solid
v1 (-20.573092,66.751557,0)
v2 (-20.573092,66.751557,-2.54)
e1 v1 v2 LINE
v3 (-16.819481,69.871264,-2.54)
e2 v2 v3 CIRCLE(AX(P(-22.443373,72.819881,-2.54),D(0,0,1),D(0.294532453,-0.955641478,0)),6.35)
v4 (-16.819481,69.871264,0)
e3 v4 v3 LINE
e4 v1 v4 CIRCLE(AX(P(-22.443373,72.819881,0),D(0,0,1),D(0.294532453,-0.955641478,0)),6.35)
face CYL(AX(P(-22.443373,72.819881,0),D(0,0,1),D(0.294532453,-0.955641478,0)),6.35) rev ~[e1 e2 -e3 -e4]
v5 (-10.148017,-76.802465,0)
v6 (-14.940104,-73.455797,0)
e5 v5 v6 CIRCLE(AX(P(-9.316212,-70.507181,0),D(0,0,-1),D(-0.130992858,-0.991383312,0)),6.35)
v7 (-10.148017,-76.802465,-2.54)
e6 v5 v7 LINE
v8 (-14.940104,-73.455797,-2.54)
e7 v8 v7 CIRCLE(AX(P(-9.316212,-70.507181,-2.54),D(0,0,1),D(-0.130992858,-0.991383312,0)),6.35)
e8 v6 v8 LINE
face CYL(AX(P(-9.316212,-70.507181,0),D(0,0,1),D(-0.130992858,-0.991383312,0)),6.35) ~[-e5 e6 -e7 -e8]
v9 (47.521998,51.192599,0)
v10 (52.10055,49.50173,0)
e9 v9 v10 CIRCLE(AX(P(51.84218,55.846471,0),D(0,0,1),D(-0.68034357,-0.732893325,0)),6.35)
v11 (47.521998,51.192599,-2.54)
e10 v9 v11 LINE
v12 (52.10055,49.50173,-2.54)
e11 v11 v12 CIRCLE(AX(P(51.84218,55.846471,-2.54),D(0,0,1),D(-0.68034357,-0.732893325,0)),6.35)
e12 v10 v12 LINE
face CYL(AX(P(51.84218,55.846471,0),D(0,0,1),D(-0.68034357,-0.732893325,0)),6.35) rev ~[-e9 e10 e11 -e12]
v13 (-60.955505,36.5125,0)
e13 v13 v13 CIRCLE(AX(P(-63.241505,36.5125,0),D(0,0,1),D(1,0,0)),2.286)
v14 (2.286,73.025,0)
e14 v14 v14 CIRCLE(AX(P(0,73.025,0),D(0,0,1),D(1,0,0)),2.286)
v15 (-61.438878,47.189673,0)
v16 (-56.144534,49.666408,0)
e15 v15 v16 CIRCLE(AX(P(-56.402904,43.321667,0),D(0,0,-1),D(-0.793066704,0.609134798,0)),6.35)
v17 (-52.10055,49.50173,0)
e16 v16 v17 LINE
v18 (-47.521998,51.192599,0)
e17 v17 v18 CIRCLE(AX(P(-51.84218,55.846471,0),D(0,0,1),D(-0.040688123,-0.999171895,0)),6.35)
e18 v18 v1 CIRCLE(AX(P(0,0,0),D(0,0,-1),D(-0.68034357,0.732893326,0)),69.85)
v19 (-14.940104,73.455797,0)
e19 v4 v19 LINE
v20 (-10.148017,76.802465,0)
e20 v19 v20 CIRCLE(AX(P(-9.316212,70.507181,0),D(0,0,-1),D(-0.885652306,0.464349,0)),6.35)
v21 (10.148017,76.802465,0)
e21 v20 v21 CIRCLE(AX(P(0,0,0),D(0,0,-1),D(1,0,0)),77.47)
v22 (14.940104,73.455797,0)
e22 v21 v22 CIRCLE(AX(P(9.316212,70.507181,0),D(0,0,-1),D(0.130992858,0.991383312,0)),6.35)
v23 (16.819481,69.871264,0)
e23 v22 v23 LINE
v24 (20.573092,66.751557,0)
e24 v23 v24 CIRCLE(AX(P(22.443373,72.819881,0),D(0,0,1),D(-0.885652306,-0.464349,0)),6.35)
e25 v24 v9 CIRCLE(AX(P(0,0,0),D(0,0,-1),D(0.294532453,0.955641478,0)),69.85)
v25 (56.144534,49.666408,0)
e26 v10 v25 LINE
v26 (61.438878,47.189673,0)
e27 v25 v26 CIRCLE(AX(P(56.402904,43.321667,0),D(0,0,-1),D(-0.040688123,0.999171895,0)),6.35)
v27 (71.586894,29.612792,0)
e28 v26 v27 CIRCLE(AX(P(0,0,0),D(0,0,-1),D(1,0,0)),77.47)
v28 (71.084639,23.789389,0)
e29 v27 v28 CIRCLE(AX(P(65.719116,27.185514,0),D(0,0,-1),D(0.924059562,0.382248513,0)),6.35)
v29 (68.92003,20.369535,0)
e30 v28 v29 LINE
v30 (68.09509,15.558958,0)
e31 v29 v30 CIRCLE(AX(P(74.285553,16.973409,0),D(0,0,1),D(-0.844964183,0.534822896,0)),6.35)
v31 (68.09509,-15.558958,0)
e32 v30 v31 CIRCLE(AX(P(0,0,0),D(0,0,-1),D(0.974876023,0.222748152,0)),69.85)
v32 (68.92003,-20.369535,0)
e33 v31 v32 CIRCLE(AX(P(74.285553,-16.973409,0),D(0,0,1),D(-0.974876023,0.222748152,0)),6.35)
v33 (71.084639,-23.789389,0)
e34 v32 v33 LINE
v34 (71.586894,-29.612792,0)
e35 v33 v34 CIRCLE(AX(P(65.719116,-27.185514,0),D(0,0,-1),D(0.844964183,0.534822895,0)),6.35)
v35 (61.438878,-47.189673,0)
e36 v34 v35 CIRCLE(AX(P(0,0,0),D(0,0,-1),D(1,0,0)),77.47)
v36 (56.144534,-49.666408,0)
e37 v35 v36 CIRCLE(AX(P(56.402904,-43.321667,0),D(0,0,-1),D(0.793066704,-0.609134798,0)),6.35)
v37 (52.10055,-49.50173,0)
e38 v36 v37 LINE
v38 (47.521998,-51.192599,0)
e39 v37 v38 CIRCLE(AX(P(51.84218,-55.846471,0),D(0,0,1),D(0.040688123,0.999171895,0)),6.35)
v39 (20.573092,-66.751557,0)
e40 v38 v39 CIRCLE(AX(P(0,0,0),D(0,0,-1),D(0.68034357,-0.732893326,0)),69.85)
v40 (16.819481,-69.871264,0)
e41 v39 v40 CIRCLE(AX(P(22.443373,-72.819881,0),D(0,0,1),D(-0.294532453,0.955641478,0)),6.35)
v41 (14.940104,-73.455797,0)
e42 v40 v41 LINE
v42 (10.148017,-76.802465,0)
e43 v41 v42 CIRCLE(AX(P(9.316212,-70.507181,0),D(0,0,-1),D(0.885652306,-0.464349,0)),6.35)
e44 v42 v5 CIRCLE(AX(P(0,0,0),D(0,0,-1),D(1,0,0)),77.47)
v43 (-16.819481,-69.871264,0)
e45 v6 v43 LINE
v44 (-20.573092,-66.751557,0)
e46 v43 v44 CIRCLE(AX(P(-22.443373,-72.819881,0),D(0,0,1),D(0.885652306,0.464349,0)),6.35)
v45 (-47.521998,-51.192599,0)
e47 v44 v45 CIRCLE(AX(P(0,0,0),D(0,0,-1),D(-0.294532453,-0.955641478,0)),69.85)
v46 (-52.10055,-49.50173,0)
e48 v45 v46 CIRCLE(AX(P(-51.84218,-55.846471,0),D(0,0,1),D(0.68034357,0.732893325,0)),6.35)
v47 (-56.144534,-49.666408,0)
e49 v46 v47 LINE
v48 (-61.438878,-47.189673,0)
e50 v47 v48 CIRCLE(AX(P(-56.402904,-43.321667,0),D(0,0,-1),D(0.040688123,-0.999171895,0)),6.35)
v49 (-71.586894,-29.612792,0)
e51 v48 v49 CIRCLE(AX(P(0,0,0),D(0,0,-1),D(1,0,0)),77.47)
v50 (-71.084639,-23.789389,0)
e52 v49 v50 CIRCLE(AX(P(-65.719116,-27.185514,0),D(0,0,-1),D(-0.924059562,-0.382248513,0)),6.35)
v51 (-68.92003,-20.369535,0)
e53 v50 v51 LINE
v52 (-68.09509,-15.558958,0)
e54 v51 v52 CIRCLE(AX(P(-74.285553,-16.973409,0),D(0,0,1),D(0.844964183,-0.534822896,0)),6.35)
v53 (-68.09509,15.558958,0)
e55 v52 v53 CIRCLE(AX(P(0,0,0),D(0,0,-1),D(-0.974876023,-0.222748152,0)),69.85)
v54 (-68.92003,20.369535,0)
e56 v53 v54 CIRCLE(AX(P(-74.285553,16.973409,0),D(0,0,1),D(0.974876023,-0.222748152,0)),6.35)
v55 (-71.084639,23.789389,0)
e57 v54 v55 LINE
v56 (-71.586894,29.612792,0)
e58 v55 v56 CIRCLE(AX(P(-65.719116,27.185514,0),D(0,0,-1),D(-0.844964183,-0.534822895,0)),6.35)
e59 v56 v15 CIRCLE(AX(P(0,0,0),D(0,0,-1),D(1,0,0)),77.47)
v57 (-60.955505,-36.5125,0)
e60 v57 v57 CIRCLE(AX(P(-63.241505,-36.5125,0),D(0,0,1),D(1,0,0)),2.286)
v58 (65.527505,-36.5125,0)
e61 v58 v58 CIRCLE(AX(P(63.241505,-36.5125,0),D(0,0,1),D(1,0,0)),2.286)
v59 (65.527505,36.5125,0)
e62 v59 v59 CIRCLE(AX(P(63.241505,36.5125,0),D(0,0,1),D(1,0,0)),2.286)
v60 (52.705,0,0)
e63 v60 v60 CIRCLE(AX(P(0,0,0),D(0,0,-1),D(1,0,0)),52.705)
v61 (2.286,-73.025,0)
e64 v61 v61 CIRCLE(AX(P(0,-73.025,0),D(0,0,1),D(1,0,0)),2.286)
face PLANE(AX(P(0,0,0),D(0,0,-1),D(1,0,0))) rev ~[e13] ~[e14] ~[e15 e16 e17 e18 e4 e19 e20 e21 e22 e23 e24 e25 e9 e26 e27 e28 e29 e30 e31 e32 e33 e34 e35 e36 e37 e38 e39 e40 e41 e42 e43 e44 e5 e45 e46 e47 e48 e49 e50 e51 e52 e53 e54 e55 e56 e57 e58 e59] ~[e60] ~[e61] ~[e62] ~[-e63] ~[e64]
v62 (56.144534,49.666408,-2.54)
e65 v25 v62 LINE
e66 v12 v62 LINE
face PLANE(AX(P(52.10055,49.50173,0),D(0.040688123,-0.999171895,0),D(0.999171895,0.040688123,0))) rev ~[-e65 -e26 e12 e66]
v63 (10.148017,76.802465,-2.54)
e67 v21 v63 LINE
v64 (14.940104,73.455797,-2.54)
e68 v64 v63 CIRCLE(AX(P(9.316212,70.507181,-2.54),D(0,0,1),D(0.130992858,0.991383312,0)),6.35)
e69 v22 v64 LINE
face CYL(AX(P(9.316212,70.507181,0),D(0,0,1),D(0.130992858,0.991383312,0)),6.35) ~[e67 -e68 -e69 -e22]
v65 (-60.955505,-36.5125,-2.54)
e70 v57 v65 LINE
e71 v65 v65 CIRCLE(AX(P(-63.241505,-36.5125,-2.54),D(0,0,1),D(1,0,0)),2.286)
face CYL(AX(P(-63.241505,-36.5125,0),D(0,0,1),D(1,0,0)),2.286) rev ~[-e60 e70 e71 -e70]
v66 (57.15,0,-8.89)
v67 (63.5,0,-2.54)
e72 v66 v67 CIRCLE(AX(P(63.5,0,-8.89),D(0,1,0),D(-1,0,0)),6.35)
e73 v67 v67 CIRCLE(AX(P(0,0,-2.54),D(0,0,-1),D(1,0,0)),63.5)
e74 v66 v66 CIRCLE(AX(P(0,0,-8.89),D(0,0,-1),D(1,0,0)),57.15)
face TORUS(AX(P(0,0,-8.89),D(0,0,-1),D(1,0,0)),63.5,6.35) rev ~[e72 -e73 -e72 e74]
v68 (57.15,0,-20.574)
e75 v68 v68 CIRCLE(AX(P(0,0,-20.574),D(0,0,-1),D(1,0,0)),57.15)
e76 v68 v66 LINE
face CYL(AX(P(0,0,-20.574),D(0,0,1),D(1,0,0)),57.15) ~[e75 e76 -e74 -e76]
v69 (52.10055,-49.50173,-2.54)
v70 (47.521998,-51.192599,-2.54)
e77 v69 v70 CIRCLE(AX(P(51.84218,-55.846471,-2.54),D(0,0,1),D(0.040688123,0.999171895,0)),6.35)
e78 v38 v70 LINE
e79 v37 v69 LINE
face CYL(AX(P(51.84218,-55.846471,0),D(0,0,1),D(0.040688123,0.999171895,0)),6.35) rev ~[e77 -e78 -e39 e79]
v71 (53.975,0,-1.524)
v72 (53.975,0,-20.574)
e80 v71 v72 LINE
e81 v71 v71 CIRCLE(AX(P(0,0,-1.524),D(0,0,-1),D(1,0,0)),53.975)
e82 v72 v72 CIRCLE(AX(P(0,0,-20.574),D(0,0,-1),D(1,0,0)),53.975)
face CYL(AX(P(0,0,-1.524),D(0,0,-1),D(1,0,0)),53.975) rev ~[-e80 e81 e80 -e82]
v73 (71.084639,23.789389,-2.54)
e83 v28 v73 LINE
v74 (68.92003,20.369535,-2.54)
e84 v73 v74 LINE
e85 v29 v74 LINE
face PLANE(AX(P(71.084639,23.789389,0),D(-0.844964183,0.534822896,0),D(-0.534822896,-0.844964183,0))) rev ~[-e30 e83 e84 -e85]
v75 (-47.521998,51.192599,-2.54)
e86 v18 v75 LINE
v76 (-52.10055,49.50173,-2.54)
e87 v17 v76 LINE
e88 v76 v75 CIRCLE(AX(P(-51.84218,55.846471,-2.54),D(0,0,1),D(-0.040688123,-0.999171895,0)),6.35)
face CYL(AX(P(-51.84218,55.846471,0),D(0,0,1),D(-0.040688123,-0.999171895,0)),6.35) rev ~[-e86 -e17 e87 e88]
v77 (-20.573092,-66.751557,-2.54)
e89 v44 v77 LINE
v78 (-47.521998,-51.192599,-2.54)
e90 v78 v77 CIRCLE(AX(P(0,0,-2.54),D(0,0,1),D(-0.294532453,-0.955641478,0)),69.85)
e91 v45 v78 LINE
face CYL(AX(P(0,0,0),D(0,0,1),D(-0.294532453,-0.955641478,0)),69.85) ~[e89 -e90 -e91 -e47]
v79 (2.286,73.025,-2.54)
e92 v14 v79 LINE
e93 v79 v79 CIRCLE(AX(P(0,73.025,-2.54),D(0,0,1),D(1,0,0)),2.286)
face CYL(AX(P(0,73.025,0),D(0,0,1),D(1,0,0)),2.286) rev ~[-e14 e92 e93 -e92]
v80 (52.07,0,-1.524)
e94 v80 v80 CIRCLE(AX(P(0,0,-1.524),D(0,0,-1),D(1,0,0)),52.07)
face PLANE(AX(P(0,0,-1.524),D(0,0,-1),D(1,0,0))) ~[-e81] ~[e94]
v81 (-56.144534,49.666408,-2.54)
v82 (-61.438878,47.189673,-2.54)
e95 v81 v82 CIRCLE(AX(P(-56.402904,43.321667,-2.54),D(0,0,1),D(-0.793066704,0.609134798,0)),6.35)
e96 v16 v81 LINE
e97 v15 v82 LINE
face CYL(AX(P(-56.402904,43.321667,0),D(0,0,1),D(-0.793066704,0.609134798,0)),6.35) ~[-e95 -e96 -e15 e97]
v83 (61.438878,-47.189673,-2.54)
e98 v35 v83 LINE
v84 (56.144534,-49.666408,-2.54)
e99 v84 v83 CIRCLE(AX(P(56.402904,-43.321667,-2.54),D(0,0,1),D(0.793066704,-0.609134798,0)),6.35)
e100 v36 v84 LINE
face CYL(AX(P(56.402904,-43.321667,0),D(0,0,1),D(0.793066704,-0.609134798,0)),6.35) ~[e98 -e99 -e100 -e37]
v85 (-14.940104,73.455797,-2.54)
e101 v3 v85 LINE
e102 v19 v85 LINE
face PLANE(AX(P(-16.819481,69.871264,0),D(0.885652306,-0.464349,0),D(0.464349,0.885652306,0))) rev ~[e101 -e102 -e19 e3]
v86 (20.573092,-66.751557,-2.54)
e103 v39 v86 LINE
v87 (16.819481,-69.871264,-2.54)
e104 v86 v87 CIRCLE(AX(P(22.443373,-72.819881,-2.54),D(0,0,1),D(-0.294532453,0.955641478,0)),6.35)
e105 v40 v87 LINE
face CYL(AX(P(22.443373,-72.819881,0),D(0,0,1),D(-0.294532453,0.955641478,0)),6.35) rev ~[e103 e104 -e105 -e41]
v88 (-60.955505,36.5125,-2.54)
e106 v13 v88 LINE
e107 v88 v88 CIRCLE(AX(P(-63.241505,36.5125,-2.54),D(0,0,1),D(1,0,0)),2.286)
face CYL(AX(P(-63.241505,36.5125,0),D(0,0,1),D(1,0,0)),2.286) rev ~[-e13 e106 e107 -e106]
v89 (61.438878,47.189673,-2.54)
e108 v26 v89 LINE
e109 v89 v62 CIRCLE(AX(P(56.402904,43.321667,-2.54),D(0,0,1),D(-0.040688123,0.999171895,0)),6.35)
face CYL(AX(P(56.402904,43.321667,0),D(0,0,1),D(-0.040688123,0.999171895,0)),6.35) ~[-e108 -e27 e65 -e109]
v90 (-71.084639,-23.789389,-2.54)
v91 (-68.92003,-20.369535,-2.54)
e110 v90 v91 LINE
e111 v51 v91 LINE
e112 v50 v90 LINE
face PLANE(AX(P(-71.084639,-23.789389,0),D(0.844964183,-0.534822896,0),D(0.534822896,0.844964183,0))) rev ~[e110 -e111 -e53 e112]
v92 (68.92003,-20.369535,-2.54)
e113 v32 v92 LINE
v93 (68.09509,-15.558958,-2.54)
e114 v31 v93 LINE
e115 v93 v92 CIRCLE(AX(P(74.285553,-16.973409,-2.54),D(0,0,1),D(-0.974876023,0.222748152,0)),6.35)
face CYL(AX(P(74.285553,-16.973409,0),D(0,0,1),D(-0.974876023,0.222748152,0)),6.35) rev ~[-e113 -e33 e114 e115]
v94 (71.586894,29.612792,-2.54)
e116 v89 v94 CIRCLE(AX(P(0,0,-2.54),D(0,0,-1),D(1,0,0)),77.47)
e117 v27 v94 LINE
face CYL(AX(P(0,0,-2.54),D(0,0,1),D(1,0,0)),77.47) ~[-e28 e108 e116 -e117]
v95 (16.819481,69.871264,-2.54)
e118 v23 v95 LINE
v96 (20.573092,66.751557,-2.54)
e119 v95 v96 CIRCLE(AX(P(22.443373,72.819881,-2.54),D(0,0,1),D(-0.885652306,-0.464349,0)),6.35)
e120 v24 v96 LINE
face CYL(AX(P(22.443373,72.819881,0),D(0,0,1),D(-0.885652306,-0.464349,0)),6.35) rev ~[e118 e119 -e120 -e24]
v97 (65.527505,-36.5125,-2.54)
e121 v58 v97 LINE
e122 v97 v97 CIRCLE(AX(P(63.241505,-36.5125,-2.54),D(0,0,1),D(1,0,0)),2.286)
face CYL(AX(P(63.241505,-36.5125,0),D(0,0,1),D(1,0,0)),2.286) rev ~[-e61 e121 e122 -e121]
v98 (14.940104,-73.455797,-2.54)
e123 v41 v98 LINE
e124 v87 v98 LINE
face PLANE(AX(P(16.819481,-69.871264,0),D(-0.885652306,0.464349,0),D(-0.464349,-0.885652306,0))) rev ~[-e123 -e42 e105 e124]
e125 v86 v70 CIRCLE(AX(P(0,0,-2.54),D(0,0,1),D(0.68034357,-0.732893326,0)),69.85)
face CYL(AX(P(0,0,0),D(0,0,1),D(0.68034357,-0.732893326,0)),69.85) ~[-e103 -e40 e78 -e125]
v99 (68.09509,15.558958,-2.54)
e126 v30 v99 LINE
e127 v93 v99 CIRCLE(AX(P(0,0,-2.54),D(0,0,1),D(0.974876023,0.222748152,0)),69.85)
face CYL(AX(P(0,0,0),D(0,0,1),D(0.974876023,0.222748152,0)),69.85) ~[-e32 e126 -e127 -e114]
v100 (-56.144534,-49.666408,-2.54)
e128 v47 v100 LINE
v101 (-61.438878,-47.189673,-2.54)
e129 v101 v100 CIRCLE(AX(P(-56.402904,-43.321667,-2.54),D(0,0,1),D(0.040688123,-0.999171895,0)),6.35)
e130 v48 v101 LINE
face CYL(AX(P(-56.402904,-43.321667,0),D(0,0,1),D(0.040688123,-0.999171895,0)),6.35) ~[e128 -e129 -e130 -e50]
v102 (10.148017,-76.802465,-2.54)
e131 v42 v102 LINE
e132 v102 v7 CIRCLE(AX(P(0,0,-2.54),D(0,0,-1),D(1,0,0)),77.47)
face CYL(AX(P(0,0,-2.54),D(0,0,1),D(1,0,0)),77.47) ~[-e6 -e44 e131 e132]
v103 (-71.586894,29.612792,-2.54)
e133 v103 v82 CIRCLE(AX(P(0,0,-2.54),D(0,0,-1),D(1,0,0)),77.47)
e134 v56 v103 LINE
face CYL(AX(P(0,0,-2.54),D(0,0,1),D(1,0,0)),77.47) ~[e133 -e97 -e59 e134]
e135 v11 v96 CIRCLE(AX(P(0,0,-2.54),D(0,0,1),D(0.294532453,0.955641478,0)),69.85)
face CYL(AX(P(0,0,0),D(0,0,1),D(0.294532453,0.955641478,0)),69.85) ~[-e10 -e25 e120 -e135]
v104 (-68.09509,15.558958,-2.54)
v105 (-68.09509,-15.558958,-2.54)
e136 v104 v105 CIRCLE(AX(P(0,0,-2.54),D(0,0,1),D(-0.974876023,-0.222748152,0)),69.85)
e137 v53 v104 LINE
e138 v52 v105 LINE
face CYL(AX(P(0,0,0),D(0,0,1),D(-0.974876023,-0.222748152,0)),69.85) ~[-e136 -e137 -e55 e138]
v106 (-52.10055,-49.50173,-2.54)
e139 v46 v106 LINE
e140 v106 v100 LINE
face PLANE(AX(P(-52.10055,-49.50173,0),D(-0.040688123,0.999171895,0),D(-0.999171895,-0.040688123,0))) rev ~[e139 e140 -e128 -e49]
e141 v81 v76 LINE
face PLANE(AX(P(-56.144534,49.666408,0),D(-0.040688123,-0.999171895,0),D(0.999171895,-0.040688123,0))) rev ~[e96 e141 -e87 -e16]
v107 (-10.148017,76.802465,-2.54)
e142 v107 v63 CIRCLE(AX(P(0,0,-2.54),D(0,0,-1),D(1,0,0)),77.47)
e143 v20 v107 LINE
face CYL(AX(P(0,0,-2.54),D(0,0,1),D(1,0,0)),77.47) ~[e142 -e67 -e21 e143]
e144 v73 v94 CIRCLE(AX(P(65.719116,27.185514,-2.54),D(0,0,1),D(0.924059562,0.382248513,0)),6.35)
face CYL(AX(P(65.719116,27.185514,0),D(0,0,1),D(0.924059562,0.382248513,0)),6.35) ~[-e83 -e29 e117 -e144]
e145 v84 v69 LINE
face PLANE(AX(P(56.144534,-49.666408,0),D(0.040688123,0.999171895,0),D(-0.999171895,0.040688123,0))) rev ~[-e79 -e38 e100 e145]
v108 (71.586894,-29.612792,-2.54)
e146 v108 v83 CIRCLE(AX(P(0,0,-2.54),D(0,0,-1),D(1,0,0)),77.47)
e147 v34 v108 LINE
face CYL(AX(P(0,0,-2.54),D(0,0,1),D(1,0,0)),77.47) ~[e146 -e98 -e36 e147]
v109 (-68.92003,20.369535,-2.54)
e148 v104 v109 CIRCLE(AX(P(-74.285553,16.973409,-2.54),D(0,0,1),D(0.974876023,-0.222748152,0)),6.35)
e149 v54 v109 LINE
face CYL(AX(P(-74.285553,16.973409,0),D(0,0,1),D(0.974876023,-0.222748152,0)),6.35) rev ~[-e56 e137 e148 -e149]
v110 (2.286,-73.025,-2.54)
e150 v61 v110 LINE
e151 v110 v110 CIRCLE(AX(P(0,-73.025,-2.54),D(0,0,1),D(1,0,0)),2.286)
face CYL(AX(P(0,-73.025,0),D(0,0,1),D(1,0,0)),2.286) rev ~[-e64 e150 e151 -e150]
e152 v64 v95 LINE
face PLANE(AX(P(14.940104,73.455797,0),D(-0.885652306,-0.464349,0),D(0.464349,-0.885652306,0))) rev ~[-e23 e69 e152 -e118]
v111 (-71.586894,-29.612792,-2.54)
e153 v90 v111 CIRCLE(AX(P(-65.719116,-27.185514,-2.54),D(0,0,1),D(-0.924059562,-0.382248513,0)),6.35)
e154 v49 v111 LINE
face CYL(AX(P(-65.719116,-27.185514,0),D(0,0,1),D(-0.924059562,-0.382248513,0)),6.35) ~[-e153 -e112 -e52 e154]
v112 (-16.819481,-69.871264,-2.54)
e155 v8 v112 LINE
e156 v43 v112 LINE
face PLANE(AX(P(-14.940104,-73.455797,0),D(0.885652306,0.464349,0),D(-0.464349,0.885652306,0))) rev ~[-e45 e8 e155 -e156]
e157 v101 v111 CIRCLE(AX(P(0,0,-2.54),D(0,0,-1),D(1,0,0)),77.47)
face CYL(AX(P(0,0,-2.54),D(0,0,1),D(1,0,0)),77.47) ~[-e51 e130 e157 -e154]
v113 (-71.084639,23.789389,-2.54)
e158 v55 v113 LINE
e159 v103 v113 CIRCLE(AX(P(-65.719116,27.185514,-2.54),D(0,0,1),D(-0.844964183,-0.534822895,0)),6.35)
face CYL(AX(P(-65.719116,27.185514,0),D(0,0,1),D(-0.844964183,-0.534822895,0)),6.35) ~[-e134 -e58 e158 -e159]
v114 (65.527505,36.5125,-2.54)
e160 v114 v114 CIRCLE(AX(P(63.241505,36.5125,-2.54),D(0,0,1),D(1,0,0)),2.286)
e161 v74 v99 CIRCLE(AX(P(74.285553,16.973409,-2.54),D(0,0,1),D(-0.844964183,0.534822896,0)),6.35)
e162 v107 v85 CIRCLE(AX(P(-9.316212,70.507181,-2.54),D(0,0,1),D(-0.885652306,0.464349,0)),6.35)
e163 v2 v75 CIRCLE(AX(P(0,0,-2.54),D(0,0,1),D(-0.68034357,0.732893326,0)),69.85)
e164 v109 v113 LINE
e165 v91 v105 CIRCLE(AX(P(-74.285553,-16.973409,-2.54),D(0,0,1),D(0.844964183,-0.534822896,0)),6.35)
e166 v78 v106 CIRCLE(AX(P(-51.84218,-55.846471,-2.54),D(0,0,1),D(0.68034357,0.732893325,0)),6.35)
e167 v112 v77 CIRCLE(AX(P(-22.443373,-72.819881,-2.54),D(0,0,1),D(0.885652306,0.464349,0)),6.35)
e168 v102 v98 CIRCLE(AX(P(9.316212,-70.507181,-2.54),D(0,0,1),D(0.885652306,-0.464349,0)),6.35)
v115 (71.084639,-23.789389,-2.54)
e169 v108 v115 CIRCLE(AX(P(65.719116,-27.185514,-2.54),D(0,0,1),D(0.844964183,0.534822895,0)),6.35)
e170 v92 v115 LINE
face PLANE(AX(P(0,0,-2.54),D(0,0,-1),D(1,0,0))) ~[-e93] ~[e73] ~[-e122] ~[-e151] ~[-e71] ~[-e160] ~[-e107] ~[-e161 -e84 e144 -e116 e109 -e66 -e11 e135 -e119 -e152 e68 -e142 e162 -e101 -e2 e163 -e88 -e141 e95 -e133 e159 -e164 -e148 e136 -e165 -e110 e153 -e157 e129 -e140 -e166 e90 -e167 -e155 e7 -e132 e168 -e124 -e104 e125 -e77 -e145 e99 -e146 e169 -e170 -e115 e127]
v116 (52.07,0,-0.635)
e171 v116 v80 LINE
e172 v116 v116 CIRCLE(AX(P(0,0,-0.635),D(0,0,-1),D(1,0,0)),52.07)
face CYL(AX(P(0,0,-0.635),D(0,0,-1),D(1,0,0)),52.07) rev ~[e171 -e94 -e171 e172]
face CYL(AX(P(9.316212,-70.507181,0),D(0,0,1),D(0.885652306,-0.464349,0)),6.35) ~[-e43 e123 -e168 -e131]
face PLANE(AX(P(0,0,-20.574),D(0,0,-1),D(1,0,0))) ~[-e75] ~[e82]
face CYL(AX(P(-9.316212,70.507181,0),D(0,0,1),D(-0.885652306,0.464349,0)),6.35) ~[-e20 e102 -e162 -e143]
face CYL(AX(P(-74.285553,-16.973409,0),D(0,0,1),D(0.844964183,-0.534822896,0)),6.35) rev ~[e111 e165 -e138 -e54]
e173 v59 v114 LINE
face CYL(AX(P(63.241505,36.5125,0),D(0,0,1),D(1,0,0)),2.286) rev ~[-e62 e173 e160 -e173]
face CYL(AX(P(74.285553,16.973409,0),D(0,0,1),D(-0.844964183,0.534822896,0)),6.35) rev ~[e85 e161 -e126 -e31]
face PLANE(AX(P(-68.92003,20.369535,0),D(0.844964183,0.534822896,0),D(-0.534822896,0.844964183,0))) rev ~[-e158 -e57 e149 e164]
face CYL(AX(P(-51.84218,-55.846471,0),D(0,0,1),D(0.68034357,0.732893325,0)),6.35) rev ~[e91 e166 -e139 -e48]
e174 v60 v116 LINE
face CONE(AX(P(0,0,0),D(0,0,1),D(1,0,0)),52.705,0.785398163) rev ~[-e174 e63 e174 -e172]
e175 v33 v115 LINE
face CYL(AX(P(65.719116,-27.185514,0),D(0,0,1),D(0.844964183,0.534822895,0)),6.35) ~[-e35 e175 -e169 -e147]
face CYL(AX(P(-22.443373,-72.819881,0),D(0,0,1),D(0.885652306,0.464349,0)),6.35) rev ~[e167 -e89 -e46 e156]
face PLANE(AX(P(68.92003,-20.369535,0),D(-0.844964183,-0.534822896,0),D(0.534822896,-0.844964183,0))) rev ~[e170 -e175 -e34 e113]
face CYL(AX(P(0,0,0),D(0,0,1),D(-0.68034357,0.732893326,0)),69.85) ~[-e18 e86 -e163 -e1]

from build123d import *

# Parameters (mm, degrees)
SKETCH4_R          = 2.286
CUT_EXTRUDE1_DEPTH = 112.474173134


with BuildPart() as part:
    # Sketch3 → Revolve1 (revolve)
    with BuildSketch(Plane(origin=(0, 0, 0), x_dir=(0, 0, -1), z_dir=(1, 0, 0)), mode=Mode.PRIVATE) as revolve1_sk:
        with BuildLine():
            Line((0, 77.47), (0, 52.705))
            Line((0, 52.705), (0.635, 52.07))
            Line((0.635, 52.07), (1.524, 52.07))
            Line((1.524, 52.07), (1.524, 53.975))
            Line((1.524, 53.975), (20.574, 53.975))
            Line((20.574, 53.975), (20.574, 57.15))
            Line((20.574, 57.15), (8.89, 57.15))
            ThreePointArc((8.89, 57.15), (4.399871939, 59.009871939), (2.54, 63.5))
            Line((2.54, 63.5), (2.54, 77.47))
            Line((2.54, 77.47), (0, 77.47))
        make_face()
    revolve(revolve1_sk.sketch.rotate(Axis((0, 0, 0), (0, 0, -1)), 90), axis=Axis((0, 0, 0), (0, 0, -1)))

    # Sketch4 → Cut-Extrude1 (cut, through all)
    with BuildSketch(Plane.XY):
        with BuildLine():
            ThreePointArc((10.148016689, 76.802465177), (12.952013431, 75.713278366), (14.940104183, 73.455797294))
            Line((14.940104183, 73.455797294), (16.819480806, 69.871264453))
            ThreePointArc((16.819480806, 69.871264453), (18.384579854, 67.936367662), (20.573091868, 66.751557218))
            ThreePointArc((20.573091868, 66.751557218), (34.925, 60.491874454), (47.521998359, 51.192598801))
            ThreePointArc((47.521998359, 51.192598801), (49.642330309, 49.889697022), (52.100549608, 49.501729883))
            Line((52.100549608, 49.501729883), (56.14453442, 49.666408405))
            ThreePointArc((56.14453442, 49.666408405), (59.093615754, 49.073411844), (61.438877572, 47.189672839))
            ThreePointArc((61.438877572, 47.189672839), (38.735, 67.090988031), (10.148016689, 76.802465177))
        make_face()
        with BuildLine():
            ThreePointArc((-14.940104183, 73.455797294), (-12.952013431, 75.713278366), (-10.148016689, 76.802465177))
            ThreePointArc((-10.148016689, 76.802465177), (-38.735, 67.090988031), (-61.438877572, 47.189672839))
            ThreePointArc((-61.438877572, 47.189672839), (-59.093615754, 49.073411844), (-56.14453442, 49.666408405))
            Line((-56.14453442, 49.666408405), (-52.100549608, 49.501729883))
            ThreePointArc((-52.100549608, 49.501729883), (-49.642330309, 49.889697022), (-47.521998359, 51.192598801))
            ThreePointArc((-47.521998359, 51.192598801), (-34.925, 60.491874454), (-20.573091868, 66.751557218))
            ThreePointArc((-20.573091868, 66.751557218), (-18.384579854, 67.936367662), (-16.819480806, 69.871264453))
            Line((-16.819480806, 69.871264453), (-14.940104183, 73.455797294))
        make_face()
        with BuildLine():
            ThreePointArc((71.586894261, -29.612792338), (77.47, 0), (71.586894261, 29.612792338))
            ThreePointArc((71.586894261, 29.612792338), (72.045629184, 26.639866522), (71.084638604, 23.789388889))
            Line((71.084638604, 23.789388889), (68.920030414, 20.36953457))
            ThreePointArc((68.920030414, 20.36953457), (68.026910163, 18.04667064), (68.095090227, 15.558958417))
            ThreePointArc((68.095090227, 15.558958417), (69.85, 0), (68.095090227, -15.558958417))
            ThreePointArc((68.095090227, -15.558958417), (68.026910163, -18.04667064), (68.920030414, -20.36953457))
            Line((68.920030414, -20.36953457), (71.084638604, -23.789388889))
            ThreePointArc((71.084638604, -23.789388889), (72.045629184, -26.639866522), (71.586894261, -29.612792338))
        make_face()
        with BuildLine():
            ThreePointArc((-71.084638604, 23.789388889), (-72.045629184, 26.639866522), (-71.586894261, 29.612792338))
            ThreePointArc((-71.586894261, 29.612792338), (-77.47, 0), (-71.586894261, -29.612792338))
            ThreePointArc((-71.586894261, -29.612792338), (-72.045629184, -26.639866522), (-71.084638604, -23.789388889))
            Line((-71.084638604, -23.789388889), (-68.920030414, -20.36953457))
            ThreePointArc((-68.920030414, -20.36953457), (-68.026910163, -18.04667064), (-68.095090227, -15.558958417))
            ThreePointArc((-68.095090227, -15.558958417), (-69.85, 0), (-68.095090227, 15.558958417))
            ThreePointArc((-68.095090227, 15.558958417), (-68.026910163, 18.04667064), (-68.920030414, 20.36953457))
            Line((-68.920030414, 20.36953457), (-71.084638604, 23.789388889))
        make_face()
        with BuildLine():
            ThreePointArc((10.148016689, -76.802465177), (38.735, -67.090988031), (61.438877572, -47.189672839))
            ThreePointArc((61.438877572, -47.189672839), (59.093615754, -49.073411844), (56.14453442, -49.666408405))
            Line((56.14453442, -49.666408405), (52.100549608, -49.501729883))
            ThreePointArc((52.100549608, -49.501729883), (49.642330309, -49.889697022), (47.521998359, -51.192598801))
            ThreePointArc((47.521998359, -51.192598801), (34.925, -60.491874454), (20.573091868, -66.751557218))
            ThreePointArc((20.573091868, -66.751557218), (18.384579854, -67.936367662), (16.819480806, -69.871264453))
            Line((16.819480806, -69.871264453), (14.940104183, -73.455797294))
            ThreePointArc((14.940104183, -73.455797294), (12.952013431, -75.713278366), (10.148016689, -76.802465177))
        make_face()
        with BuildLine():
            ThreePointArc((-56.14453442, -49.666408405), (-59.093615754, -49.073411844), (-61.438877572, -47.189672839))
            ThreePointArc((-61.438877572, -47.189672839), (-38.735, -67.090988031), (-10.148016689, -76.802465177))
            ThreePointArc((-10.148016689, -76.802465177), (-12.952013431, -75.713278366), (-14.940104183, -73.455797294))
            Line((-14.940104183, -73.455797294), (-16.819480806, -69.871264453))
            ThreePointArc((-16.819480806, -69.871264453), (-18.384579854, -67.936367662), (-20.573091868, -66.751557218))
            ThreePointArc((-20.573091868, -66.751557218), (-34.925, -60.491874454), (-47.521998359, -51.192598801))
            ThreePointArc((-47.521998359, -51.192598801), (-49.642330309, -49.889697022), (-52.100549608, -49.501729883))
            Line((-52.100549608, -49.501729883), (-56.14453442, -49.666408405))
        make_face()
        with Locations((0, 73.025)):
            Circle(SKETCH4_R)
        with Locations((63.241505111, 36.5125)):
            Circle(SKETCH4_R)
        with Locations((63.241505111, -36.5125)):
            Circle(SKETCH4_R)
        with Locations((0, -73.025)):
            Circle(SKETCH4_R)
        with Locations((-63.241505111, -36.5125)):
            Circle(SKETCH4_R)
        with Locations((-63.241505111, 36.5125)):
            Circle(SKETCH4_R)
    extrude(amount=-CUT_EXTRUDE1_DEPTH, mode=Mode.SUBTRACT)


solid = part.part
